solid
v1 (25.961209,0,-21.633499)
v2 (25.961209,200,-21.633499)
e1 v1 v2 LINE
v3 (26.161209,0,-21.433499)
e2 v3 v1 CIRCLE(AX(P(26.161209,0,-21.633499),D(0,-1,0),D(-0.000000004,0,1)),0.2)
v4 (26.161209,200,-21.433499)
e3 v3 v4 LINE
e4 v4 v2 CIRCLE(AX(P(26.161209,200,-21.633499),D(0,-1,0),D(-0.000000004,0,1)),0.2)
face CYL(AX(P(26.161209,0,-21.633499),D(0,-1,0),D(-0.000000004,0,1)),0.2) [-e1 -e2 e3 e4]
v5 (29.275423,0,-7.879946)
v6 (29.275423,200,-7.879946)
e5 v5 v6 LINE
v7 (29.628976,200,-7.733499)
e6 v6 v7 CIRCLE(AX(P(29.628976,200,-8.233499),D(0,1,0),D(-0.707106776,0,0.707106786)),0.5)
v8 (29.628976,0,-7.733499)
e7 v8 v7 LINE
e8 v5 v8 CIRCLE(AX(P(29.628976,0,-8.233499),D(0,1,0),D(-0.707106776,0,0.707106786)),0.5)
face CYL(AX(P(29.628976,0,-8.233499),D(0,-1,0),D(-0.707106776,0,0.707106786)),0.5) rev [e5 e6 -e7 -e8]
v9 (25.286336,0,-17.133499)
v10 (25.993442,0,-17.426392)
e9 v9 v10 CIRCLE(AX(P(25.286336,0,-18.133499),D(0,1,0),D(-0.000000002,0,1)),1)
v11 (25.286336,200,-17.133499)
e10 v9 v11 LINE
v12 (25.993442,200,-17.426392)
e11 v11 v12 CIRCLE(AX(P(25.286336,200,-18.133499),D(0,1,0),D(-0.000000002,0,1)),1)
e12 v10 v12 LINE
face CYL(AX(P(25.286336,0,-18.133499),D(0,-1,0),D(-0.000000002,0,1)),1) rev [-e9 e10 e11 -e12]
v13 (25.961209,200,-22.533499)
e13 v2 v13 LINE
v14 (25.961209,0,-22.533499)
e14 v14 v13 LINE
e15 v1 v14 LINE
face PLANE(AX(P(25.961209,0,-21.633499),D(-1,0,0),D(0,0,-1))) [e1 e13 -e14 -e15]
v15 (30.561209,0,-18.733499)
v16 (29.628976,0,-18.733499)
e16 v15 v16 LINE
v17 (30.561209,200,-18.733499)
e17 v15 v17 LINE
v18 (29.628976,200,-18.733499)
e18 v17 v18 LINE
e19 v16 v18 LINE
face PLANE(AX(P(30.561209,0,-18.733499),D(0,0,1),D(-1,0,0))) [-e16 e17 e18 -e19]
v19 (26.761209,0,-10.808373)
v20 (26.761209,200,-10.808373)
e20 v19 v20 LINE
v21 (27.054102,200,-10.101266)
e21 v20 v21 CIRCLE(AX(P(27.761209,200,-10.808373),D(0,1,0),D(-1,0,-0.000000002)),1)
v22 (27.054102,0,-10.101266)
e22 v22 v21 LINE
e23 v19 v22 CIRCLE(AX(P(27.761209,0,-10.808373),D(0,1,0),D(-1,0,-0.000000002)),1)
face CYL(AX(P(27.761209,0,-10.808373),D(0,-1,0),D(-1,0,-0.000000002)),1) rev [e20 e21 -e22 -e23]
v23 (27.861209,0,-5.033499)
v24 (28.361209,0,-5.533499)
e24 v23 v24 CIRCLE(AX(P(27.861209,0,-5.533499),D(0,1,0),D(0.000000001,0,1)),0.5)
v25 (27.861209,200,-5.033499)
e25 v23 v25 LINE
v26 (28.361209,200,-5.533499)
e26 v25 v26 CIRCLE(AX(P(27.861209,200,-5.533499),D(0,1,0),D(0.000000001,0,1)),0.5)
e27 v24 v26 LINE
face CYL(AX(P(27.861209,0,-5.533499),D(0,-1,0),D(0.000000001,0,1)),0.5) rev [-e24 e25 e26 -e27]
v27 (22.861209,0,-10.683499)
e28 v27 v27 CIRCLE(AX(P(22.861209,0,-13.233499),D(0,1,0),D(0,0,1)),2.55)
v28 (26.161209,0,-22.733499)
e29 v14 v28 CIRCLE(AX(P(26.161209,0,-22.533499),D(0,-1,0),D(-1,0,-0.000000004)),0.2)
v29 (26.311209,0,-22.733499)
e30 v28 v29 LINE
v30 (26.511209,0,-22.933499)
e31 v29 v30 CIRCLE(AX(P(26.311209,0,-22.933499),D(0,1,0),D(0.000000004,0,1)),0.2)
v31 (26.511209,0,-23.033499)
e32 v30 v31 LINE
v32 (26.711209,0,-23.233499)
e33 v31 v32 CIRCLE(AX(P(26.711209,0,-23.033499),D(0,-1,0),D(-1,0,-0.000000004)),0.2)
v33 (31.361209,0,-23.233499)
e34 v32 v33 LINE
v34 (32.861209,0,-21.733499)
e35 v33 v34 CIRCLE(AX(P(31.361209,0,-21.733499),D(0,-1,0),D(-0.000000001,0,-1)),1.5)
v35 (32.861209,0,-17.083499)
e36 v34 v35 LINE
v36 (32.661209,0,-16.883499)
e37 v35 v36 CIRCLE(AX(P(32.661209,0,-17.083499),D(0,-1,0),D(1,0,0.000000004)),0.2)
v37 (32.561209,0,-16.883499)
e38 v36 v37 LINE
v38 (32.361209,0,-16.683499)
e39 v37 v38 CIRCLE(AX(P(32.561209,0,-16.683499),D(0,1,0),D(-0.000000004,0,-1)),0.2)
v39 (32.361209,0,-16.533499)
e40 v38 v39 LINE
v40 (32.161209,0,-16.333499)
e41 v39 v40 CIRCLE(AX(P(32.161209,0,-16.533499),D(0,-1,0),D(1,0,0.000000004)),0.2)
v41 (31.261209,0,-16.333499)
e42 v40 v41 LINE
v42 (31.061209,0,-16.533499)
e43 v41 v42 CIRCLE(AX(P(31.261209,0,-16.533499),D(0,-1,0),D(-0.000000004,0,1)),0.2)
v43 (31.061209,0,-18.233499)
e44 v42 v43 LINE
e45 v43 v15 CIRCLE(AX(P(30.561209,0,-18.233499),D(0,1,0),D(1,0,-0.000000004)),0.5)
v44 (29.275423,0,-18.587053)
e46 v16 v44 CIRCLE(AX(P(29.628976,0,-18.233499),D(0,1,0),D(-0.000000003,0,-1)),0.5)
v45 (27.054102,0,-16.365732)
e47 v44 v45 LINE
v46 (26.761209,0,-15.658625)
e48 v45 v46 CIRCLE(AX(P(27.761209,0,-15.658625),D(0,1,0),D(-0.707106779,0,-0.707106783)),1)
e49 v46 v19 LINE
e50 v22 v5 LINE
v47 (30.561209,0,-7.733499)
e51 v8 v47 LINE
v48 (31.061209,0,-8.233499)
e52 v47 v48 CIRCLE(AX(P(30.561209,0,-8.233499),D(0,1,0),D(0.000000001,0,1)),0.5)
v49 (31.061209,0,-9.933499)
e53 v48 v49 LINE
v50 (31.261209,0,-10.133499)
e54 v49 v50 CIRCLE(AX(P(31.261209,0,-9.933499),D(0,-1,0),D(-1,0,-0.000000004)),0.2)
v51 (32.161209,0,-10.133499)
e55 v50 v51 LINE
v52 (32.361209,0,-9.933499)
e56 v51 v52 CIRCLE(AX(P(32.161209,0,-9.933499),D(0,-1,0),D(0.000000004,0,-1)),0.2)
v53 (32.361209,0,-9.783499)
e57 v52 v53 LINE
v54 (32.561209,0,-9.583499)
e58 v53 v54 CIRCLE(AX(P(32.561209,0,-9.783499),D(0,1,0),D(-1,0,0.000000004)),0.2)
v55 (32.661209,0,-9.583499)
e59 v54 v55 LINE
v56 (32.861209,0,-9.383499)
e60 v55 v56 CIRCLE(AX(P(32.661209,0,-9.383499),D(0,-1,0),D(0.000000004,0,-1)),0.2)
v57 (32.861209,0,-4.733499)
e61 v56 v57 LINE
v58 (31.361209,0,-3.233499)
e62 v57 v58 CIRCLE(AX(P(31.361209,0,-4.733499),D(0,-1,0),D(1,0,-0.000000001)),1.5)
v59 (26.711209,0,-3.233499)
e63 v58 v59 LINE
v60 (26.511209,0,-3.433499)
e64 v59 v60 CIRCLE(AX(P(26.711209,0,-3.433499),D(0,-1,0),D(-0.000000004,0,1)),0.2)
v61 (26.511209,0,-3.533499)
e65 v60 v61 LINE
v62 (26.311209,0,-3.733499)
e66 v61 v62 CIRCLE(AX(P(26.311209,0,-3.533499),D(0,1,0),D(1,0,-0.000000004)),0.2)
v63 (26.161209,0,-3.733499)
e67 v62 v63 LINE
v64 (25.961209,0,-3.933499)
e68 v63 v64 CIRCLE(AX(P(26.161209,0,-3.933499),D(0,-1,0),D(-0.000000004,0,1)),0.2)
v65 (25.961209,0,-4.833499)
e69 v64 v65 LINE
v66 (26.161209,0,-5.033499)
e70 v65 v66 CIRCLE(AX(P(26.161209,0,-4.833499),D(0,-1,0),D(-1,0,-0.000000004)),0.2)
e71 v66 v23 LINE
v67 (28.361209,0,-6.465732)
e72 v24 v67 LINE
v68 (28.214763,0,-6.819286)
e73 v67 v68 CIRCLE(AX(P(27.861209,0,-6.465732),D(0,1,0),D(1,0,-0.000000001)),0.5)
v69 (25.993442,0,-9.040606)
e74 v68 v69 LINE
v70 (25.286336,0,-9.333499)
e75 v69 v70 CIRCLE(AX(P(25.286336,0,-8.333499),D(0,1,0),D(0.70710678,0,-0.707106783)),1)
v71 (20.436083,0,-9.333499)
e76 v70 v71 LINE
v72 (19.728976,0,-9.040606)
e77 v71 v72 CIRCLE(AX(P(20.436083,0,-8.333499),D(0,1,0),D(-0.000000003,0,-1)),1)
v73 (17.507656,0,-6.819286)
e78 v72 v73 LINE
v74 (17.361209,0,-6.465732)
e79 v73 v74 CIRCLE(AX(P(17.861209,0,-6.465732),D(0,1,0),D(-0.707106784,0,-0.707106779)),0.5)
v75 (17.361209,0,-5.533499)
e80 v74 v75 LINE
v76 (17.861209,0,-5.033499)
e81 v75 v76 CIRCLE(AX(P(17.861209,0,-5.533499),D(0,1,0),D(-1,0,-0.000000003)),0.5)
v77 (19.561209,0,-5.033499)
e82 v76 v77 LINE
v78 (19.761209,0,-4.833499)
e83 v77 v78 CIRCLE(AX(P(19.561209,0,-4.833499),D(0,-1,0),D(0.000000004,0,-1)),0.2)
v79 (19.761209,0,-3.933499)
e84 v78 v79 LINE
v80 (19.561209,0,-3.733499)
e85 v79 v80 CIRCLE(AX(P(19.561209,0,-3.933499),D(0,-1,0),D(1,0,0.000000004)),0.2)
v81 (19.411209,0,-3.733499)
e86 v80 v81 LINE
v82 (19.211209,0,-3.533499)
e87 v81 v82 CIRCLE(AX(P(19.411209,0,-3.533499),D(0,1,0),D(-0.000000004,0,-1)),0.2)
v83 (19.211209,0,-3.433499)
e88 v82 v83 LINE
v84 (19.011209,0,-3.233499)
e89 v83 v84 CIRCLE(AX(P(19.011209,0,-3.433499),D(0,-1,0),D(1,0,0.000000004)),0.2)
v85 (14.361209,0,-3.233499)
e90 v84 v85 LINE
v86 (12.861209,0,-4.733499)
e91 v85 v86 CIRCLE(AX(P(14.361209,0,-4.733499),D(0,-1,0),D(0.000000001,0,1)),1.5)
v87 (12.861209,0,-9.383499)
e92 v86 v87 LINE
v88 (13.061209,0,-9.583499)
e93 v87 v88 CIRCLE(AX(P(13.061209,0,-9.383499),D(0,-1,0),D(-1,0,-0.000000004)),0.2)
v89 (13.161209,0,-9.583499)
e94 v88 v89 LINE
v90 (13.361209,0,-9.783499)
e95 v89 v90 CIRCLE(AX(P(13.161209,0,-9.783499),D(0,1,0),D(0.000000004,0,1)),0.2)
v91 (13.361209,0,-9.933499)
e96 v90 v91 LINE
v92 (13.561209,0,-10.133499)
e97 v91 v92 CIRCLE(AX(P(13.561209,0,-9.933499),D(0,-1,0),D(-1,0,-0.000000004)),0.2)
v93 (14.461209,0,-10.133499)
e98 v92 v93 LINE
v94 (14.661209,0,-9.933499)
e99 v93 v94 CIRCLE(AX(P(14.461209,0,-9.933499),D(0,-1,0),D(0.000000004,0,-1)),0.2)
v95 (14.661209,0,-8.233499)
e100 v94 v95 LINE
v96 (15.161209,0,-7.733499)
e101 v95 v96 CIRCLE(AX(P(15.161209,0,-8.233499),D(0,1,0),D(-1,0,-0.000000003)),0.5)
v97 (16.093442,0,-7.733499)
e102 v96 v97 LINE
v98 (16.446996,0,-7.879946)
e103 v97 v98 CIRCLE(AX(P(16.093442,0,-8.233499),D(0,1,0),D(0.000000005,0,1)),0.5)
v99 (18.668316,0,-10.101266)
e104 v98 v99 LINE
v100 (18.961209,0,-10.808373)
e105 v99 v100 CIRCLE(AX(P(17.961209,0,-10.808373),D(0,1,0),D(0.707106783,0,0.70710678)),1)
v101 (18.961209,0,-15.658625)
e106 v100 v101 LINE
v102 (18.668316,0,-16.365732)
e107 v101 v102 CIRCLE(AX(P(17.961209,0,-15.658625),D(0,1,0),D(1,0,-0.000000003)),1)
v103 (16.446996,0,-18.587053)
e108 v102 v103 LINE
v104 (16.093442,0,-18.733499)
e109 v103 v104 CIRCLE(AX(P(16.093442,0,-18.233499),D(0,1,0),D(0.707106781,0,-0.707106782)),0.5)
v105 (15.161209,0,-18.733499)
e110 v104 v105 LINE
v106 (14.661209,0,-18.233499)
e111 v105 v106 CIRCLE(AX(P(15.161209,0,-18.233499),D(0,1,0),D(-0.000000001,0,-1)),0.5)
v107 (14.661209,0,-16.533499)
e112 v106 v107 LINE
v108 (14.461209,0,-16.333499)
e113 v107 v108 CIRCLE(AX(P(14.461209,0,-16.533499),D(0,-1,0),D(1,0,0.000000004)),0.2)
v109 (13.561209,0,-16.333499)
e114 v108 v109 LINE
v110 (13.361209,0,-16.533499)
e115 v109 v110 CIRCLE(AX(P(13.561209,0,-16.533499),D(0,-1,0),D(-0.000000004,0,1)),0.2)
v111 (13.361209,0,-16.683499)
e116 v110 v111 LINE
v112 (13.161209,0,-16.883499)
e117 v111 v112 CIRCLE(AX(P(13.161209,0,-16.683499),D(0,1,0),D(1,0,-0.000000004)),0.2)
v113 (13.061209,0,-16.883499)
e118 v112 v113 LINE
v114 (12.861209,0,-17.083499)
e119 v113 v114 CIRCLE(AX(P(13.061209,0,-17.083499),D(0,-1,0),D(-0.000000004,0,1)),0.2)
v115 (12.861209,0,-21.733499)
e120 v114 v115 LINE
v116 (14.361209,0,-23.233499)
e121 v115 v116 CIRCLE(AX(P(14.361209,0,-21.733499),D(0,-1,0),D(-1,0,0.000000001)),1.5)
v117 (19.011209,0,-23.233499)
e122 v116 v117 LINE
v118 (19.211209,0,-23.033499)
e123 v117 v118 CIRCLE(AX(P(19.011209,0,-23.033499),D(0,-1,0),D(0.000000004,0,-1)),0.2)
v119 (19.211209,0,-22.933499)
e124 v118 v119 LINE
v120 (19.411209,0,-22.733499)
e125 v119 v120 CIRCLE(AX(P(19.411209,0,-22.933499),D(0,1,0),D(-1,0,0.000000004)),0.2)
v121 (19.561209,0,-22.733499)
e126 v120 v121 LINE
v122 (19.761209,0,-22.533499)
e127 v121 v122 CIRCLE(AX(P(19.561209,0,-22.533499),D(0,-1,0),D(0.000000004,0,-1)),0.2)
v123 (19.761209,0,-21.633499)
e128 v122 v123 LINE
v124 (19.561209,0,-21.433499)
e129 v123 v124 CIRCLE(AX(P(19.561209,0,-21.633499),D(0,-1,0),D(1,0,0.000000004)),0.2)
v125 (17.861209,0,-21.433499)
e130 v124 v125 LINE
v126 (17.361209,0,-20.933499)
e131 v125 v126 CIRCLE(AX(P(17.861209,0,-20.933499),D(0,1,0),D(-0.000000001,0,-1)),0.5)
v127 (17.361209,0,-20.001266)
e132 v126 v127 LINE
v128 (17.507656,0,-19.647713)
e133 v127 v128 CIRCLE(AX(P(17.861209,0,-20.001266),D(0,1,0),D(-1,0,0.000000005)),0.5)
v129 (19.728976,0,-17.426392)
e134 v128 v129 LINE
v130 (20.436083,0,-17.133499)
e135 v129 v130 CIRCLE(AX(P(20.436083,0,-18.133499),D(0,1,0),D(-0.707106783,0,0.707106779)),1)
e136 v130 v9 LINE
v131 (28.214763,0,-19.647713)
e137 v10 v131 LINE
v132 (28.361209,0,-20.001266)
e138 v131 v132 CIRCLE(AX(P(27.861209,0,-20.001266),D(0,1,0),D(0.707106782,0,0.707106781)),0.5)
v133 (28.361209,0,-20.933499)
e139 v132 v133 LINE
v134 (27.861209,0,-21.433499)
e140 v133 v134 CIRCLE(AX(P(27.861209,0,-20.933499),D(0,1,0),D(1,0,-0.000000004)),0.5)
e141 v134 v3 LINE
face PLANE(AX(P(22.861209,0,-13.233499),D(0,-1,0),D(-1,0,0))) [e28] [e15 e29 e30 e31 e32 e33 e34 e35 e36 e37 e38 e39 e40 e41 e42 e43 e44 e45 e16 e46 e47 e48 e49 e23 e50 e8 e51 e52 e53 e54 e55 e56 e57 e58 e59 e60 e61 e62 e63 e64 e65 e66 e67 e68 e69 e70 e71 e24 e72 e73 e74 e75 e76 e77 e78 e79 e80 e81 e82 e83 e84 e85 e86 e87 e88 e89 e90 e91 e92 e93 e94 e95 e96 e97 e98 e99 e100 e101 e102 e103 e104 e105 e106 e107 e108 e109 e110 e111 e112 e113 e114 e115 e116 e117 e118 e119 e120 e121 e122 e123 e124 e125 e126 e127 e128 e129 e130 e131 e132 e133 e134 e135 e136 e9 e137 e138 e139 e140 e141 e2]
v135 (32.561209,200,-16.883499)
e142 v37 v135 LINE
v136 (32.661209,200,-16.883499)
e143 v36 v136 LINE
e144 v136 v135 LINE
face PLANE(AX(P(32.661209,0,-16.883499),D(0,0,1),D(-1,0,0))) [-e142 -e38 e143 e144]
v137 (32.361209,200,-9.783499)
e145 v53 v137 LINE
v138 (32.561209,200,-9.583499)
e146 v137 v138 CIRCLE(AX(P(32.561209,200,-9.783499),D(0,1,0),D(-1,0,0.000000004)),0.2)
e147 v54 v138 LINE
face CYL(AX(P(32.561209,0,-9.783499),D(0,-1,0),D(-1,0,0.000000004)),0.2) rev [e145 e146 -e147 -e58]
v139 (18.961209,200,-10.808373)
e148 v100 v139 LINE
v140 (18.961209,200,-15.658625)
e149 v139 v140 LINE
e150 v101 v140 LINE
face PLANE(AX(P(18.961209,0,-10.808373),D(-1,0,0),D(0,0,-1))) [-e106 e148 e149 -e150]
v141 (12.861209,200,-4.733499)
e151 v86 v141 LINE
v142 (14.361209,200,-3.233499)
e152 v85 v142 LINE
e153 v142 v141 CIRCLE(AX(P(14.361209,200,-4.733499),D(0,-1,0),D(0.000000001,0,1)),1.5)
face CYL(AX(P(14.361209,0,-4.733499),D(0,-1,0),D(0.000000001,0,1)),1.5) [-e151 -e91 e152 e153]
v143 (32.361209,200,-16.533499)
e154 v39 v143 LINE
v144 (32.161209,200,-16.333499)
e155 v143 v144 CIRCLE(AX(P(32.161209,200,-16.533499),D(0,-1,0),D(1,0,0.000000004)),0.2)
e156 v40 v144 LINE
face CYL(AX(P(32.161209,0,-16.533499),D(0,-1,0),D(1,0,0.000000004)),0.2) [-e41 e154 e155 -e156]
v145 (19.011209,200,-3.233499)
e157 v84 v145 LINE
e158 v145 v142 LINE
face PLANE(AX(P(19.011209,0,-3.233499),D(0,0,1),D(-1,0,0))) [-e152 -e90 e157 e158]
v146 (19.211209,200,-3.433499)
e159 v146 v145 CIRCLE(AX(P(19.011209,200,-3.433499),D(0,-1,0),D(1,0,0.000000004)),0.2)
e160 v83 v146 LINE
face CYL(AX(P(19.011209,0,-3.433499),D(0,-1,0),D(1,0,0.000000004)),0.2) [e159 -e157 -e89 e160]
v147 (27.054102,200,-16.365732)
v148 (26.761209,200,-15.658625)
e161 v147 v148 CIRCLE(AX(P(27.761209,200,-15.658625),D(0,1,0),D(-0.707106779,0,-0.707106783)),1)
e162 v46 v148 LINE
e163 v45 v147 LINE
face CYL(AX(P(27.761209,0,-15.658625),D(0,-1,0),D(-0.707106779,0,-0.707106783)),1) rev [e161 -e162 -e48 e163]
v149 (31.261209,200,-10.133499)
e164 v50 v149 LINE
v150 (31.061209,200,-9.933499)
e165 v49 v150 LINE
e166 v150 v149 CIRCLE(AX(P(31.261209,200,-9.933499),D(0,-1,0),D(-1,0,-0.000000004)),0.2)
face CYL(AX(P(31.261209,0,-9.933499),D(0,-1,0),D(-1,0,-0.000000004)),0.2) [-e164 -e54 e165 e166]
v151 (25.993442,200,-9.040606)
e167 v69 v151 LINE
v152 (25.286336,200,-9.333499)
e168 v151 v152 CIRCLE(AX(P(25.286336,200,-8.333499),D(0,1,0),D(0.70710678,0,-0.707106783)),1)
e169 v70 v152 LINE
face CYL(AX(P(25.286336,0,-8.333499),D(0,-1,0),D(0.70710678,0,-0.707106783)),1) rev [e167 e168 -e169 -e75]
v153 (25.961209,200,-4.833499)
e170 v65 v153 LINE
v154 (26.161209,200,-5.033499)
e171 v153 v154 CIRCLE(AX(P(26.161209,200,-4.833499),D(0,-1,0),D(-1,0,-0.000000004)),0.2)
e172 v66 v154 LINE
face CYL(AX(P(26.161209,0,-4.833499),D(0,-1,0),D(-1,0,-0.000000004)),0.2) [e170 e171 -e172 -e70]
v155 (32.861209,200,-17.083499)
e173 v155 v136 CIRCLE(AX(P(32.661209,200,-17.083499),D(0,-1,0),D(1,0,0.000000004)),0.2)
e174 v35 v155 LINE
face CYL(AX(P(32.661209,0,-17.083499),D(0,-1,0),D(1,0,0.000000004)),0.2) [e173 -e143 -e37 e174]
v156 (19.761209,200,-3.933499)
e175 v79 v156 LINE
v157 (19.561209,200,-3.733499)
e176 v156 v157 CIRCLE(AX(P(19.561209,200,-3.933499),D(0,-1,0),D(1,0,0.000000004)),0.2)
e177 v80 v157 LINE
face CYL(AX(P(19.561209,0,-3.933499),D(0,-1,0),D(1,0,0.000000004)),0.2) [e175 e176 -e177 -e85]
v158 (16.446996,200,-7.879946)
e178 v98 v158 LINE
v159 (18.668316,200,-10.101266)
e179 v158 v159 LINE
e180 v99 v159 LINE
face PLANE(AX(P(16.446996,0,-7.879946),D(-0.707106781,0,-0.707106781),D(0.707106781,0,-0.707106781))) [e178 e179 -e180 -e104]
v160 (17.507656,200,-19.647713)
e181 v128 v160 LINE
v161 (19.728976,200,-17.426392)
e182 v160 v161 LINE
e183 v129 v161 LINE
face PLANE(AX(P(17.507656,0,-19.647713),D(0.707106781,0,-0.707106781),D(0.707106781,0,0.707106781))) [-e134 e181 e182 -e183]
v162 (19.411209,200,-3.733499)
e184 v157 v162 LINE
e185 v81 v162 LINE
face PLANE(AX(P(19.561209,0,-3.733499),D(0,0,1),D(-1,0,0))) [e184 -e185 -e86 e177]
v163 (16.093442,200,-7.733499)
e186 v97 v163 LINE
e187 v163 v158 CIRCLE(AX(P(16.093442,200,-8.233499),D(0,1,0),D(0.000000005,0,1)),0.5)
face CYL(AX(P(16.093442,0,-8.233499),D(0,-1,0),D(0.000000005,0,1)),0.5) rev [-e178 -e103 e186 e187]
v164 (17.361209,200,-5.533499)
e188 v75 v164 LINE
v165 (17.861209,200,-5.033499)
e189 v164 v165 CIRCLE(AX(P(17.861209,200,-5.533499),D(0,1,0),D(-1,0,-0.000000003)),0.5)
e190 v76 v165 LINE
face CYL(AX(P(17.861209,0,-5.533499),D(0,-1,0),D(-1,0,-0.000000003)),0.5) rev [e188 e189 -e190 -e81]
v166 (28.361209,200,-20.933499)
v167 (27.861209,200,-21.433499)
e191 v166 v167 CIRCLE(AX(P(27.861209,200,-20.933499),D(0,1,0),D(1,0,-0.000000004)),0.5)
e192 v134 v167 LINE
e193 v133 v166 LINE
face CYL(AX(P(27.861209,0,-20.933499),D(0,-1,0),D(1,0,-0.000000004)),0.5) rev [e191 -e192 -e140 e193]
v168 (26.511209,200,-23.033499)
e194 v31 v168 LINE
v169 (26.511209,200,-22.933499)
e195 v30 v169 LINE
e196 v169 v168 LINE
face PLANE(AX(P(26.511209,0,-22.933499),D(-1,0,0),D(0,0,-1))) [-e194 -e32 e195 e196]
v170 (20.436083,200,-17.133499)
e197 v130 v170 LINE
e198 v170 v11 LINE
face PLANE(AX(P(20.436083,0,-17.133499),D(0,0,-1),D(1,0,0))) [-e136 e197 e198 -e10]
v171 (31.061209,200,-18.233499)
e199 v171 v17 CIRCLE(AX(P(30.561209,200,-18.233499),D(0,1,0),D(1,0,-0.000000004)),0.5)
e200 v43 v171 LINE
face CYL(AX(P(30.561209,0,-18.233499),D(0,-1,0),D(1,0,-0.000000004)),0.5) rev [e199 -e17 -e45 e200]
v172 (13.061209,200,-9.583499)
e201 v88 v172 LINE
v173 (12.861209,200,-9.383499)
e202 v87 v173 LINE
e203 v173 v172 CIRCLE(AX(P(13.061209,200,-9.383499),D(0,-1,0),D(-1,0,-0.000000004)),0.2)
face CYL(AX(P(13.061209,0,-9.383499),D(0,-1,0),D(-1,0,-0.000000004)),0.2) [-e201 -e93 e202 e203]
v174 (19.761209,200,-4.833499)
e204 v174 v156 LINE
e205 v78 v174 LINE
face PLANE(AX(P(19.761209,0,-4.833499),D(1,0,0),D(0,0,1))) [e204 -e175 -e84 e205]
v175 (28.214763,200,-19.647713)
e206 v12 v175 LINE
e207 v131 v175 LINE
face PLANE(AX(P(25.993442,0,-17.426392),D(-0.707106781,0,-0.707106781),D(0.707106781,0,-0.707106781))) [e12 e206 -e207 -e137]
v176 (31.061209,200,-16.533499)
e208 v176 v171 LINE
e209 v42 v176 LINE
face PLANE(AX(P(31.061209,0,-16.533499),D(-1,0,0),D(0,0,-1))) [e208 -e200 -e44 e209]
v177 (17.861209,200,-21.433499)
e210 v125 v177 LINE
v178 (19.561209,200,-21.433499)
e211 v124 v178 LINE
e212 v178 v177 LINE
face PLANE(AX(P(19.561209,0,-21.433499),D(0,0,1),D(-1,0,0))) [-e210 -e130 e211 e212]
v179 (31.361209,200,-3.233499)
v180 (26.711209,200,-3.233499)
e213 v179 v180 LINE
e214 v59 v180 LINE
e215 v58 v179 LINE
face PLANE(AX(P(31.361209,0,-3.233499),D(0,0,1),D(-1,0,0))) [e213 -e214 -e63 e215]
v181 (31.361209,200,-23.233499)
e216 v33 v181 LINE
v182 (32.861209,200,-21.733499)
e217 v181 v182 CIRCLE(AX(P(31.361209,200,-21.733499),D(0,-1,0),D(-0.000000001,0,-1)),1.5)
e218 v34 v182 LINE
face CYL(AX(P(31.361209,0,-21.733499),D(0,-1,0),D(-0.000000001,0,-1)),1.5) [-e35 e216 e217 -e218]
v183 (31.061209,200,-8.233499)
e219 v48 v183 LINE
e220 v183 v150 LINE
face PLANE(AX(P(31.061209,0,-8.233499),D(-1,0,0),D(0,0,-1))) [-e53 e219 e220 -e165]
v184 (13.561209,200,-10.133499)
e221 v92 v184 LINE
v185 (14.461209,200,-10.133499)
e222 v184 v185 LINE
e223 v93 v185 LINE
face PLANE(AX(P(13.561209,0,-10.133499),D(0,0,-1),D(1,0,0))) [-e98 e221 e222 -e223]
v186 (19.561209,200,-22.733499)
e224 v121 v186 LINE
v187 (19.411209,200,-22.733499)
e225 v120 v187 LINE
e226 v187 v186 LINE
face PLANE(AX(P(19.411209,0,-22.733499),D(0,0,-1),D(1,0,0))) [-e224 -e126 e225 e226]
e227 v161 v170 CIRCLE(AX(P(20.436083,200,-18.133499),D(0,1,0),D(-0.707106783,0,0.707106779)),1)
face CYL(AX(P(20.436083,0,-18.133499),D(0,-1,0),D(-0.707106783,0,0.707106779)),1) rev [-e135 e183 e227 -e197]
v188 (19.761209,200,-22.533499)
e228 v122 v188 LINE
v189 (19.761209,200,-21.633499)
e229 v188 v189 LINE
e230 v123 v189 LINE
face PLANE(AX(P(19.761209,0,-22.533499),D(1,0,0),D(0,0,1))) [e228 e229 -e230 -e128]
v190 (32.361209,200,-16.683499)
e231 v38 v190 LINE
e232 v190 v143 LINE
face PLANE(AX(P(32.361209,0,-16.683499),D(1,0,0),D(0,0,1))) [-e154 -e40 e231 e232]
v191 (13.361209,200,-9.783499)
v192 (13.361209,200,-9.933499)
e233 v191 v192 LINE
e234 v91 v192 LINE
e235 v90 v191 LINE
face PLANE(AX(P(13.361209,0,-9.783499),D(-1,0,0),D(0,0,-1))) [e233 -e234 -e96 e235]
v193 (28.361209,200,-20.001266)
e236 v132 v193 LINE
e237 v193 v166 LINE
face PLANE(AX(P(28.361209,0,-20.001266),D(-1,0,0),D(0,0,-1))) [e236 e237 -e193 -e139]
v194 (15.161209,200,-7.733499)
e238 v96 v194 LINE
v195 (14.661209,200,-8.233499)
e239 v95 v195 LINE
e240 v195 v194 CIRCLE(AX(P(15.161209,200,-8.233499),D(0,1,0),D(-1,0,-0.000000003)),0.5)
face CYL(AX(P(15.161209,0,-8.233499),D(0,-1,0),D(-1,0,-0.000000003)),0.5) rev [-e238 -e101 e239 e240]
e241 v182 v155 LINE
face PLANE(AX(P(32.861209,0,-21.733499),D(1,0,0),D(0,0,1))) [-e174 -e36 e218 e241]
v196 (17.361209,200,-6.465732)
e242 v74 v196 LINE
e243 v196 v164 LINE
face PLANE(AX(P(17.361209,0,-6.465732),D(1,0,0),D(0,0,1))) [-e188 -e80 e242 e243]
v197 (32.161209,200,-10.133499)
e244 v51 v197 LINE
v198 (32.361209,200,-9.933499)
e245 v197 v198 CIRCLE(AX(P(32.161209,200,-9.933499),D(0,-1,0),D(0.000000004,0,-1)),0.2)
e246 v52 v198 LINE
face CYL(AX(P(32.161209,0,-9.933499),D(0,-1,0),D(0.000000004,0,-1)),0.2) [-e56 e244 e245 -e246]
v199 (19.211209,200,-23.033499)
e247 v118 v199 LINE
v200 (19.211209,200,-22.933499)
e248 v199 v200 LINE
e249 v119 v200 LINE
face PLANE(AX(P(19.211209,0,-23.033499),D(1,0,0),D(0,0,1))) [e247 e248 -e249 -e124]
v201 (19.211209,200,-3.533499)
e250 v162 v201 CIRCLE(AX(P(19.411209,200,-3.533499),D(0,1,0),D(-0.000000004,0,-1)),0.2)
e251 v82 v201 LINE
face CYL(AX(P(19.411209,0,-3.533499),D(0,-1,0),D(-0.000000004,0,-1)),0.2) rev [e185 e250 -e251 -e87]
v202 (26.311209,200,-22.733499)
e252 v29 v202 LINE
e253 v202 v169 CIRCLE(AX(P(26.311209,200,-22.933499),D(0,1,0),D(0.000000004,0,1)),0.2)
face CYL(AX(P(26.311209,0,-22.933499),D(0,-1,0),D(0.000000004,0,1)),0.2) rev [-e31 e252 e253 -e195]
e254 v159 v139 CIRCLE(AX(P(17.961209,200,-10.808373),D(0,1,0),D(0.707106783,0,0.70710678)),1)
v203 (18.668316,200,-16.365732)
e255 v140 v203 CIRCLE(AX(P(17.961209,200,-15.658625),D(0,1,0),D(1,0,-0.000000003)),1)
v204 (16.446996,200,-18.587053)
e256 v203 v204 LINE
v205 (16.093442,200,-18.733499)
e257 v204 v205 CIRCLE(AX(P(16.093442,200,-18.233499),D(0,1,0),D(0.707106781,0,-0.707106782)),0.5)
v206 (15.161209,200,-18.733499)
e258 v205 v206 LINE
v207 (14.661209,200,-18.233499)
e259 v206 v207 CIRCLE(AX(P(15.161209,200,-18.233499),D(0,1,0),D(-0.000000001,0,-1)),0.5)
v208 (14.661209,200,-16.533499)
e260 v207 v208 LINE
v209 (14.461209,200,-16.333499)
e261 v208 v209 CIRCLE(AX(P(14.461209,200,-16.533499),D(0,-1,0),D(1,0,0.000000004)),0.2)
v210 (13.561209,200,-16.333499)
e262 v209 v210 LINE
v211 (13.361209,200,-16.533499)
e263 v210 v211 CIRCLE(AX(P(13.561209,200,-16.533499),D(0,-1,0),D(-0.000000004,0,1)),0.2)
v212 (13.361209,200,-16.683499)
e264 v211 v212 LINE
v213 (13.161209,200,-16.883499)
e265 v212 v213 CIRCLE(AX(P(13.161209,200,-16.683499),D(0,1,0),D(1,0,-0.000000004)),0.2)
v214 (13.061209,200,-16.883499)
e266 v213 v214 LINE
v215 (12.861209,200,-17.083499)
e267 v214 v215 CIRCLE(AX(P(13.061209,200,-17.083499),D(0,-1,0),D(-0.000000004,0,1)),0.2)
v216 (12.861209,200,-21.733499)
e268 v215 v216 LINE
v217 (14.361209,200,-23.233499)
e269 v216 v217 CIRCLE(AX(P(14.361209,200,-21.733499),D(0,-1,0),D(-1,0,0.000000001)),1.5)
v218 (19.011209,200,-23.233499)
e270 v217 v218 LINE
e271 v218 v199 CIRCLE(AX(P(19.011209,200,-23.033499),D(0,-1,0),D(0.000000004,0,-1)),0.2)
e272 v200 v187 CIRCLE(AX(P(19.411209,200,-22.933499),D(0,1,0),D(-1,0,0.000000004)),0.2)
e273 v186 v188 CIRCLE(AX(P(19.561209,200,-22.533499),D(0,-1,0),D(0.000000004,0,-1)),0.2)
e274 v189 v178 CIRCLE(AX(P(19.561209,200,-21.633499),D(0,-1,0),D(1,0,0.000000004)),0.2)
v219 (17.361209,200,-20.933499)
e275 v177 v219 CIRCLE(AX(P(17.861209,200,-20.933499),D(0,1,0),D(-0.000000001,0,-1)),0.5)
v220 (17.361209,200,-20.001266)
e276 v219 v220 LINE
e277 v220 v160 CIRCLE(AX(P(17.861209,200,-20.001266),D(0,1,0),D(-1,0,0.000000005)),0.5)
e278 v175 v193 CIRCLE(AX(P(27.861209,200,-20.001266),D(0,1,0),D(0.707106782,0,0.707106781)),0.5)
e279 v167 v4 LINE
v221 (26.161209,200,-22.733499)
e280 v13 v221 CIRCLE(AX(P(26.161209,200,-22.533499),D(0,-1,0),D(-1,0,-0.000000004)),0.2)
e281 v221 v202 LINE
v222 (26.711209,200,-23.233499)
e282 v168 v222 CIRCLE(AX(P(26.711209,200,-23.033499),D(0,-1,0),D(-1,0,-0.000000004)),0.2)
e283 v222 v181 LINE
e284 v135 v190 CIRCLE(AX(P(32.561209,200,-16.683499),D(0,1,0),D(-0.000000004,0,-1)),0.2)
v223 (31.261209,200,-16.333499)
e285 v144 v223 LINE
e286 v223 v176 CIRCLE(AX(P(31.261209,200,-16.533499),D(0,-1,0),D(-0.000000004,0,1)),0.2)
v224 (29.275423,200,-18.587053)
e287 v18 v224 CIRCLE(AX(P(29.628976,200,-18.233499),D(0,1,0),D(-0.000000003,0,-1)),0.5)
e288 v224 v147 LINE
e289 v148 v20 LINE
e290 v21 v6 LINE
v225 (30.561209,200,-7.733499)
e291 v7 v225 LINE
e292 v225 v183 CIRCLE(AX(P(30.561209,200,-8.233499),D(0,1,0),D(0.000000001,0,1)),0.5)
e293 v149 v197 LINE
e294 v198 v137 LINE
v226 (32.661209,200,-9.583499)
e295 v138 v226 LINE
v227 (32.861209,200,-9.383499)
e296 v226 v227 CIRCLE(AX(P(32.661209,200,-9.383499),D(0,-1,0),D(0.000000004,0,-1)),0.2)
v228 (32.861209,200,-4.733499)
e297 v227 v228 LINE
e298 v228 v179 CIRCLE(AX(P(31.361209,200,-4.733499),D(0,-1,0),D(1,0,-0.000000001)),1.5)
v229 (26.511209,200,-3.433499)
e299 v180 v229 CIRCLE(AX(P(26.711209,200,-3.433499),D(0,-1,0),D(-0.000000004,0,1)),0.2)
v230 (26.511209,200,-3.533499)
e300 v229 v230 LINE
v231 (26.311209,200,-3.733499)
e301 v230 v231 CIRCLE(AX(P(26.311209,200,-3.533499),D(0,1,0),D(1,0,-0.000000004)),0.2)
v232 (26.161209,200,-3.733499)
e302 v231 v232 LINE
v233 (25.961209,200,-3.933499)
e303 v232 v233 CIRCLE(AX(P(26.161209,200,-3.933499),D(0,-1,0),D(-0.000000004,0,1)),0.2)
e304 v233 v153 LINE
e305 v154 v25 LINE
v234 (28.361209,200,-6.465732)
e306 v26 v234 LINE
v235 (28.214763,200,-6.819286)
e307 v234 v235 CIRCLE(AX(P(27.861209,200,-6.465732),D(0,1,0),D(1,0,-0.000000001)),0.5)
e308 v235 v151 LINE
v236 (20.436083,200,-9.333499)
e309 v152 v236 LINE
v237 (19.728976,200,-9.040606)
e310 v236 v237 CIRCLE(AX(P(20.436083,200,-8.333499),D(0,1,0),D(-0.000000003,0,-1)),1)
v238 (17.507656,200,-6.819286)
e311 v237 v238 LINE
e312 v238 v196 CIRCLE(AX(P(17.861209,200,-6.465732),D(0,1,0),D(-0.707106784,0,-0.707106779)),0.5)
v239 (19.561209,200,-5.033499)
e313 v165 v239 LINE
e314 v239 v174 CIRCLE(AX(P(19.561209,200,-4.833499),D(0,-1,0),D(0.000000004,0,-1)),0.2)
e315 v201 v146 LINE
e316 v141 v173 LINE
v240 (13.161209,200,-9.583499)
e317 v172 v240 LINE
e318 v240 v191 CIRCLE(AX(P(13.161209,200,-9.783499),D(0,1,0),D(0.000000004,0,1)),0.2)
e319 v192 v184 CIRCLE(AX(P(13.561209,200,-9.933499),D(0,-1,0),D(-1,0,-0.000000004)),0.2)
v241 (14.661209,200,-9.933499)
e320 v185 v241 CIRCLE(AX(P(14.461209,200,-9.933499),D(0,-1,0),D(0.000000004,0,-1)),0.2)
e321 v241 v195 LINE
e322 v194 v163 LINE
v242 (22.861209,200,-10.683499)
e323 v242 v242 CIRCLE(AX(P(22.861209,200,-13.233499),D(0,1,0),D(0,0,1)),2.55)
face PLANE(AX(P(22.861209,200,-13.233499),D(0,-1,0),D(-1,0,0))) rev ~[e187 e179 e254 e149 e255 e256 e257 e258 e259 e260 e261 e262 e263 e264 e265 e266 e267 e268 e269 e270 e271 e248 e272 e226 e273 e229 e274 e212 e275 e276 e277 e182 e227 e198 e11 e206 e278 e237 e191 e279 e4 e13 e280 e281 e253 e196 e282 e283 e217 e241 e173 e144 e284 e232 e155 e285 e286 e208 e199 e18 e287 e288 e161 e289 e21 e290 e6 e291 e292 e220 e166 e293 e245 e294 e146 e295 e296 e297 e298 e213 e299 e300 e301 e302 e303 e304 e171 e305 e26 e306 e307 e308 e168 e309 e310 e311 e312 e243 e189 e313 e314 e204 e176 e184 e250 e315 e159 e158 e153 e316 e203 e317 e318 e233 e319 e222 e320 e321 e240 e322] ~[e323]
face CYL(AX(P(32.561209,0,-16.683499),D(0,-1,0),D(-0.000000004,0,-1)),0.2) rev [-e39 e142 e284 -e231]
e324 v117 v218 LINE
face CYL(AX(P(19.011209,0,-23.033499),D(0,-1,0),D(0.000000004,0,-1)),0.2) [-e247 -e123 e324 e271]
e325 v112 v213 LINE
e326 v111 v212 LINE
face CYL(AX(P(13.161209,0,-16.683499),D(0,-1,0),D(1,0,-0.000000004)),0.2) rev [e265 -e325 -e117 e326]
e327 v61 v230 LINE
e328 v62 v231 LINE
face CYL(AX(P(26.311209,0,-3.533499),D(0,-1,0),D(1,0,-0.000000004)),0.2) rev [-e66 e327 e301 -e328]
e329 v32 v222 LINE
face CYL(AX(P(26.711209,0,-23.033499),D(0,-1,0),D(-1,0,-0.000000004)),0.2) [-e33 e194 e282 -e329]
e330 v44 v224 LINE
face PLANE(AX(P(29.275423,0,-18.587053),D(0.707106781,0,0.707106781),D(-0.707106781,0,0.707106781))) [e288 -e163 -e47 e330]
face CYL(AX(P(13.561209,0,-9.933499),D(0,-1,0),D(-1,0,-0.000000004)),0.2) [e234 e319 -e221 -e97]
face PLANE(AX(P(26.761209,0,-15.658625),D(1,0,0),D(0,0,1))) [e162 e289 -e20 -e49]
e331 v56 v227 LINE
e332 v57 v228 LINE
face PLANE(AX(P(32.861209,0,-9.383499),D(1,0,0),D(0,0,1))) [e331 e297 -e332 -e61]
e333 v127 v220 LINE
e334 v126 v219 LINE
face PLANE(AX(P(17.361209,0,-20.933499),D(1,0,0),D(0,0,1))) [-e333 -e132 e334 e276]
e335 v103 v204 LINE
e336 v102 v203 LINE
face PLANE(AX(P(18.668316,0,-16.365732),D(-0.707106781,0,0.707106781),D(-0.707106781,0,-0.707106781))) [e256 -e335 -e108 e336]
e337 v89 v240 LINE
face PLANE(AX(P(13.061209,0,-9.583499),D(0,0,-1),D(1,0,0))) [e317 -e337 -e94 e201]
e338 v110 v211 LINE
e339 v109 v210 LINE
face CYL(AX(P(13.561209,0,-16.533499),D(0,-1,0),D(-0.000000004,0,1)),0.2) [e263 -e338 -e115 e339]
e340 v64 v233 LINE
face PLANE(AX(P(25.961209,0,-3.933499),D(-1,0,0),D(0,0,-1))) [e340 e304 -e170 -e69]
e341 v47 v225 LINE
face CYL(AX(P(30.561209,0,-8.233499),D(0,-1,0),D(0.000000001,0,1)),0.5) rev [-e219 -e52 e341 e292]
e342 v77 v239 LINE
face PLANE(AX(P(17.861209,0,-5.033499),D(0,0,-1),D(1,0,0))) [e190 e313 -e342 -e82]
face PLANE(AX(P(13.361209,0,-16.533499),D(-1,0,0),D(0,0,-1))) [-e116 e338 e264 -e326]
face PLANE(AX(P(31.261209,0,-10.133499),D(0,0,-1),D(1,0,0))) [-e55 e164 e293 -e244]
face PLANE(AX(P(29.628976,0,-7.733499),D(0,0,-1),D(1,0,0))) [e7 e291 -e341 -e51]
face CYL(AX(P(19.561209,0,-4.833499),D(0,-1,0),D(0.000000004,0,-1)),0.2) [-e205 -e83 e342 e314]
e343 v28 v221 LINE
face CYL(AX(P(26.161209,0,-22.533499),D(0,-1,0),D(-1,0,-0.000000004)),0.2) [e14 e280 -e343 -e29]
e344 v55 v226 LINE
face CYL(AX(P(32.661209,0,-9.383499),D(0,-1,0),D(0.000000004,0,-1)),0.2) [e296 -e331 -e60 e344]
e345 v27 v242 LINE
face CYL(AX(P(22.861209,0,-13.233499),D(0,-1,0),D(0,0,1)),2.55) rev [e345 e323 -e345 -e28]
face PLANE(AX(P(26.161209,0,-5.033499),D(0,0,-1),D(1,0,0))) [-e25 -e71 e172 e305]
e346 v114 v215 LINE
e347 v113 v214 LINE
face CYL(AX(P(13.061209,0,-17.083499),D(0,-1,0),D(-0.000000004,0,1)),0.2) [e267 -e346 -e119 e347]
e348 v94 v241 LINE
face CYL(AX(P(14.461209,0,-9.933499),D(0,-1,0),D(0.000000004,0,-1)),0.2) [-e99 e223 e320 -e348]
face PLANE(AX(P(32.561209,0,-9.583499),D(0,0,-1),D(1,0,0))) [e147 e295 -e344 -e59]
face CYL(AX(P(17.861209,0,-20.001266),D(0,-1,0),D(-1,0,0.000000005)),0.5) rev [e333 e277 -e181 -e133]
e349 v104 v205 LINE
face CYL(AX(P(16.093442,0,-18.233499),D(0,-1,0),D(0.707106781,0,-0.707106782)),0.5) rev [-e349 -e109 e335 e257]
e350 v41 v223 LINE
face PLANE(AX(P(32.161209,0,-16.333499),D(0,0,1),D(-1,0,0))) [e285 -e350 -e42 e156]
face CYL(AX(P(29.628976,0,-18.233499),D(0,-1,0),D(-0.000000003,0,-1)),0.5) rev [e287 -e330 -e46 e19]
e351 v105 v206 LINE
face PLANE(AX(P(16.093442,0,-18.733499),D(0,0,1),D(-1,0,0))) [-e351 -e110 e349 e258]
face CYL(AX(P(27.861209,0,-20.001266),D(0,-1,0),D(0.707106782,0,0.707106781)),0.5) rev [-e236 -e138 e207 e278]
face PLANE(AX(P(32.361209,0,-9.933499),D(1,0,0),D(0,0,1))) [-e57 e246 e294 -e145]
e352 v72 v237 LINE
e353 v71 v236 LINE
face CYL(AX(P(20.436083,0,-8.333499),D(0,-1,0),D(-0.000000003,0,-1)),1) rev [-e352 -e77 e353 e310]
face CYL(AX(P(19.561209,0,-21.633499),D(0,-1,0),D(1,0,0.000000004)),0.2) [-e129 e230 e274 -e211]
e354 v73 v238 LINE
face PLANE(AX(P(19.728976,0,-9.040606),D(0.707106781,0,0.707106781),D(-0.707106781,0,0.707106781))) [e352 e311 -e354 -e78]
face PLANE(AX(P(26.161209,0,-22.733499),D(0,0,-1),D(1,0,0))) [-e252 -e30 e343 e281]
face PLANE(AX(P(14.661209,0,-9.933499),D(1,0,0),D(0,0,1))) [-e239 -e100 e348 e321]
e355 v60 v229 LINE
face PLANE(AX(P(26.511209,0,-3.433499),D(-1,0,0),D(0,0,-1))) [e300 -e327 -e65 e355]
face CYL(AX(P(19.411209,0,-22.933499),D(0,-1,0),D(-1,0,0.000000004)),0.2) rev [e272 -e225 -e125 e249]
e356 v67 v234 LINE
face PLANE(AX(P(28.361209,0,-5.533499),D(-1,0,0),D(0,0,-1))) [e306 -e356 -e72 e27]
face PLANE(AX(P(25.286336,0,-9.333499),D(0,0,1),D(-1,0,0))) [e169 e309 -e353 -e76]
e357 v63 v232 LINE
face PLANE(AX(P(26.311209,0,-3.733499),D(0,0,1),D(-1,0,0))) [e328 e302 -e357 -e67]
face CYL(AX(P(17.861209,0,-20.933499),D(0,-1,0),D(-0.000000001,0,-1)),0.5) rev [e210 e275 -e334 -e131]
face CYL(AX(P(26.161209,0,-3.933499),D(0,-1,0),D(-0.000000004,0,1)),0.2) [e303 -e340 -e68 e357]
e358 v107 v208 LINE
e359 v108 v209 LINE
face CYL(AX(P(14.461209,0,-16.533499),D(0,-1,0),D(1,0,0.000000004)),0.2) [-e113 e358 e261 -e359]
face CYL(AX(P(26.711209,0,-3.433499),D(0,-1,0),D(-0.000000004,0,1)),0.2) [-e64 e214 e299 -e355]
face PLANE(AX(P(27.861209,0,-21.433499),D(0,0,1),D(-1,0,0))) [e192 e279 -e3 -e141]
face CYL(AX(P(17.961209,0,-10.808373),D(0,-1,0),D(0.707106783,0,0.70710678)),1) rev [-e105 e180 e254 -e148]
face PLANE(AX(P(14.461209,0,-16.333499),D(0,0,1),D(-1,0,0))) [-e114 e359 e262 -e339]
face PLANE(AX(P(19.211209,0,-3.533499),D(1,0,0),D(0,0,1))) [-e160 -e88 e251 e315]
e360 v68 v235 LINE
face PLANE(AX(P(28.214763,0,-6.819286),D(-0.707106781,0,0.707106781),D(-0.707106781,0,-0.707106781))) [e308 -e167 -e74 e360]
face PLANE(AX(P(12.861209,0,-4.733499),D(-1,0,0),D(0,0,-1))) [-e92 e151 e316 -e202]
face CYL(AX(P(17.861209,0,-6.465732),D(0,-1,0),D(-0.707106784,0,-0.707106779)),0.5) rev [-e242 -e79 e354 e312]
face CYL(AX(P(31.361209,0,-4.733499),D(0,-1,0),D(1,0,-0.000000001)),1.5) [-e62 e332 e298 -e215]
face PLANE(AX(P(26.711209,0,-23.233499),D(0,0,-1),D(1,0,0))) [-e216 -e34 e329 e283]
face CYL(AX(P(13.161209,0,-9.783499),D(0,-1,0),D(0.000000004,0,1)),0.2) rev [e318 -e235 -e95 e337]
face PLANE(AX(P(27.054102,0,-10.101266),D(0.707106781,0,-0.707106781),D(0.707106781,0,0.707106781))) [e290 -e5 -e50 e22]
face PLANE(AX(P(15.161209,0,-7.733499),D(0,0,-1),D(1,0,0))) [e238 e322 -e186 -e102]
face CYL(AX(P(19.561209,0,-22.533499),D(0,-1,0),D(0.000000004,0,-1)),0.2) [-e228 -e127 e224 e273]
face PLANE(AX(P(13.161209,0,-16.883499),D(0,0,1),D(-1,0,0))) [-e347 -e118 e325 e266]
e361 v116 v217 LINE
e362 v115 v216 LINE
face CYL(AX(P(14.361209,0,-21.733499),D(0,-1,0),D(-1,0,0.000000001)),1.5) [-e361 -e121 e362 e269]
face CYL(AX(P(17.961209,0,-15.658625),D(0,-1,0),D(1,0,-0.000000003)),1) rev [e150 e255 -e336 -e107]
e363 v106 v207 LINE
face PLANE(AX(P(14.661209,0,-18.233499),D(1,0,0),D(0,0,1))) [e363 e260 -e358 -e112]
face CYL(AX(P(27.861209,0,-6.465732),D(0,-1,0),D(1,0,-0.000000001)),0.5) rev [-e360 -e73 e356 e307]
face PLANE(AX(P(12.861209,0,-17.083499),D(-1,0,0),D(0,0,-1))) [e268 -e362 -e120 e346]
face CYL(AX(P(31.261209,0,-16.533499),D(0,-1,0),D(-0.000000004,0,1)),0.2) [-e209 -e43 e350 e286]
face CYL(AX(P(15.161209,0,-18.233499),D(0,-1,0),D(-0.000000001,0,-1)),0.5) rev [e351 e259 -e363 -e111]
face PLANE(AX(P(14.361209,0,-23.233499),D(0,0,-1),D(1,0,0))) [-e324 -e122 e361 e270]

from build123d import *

# Parameters (mm, degrees)
SKETCH_1_R      = 2.55
EXTRUDE_1_DEPTH = 200


with BuildPart() as part:
    # 草图1 → 凸台-拉伸1 (new body)
    with BuildSketch(Plane(origin=(0, 0, 0), x_dir=(1, 0, 0), z_dir=(0, 1, 0))):
        with BuildLine():
            Line((19.761209246, 22.533499136), (19.761209246, 21.633499136))
            ThreePointArc((19.761209246, 21.633499136), (19.702630602, 21.49207778), (19.561209246, 21.433499136))
            Line((19.561209246, 21.433499136), (17.861209246, 21.433499136))
            ThreePointArc((17.861209246, 21.433499136), (17.507655855, 21.287052526), (17.361209246, 20.933499136))
            Line((17.361209246, 20.933499136), (17.361209246, 20.001266089))
            ThreePointArc((17.361209246, 20.001266089), (17.39926948, 19.809924373), (17.507655855, 19.647712698))
            Line((17.507655855, 19.647712698), (19.728976199, 17.426392355))
            ThreePointArc((19.728976199, 17.426392355), (20.053399548, 17.209619603), (20.43608298, 17.133499136))
            Line((20.43608298, 17.133499136), (25.286335512, 17.133499136))
            ThreePointArc((25.286335512, 17.133499136), (25.669018944, 17.209619603), (25.993442293, 17.426392355))
            Line((25.993442293, 17.426392355), (28.214762636, 19.647712698))
            ThreePointArc((28.214762636, 19.647712698), (28.323149012, 19.809924373), (28.361209246, 20.001266089))
            Line((28.361209246, 20.001266089), (28.361209246, 20.933499136))
            ThreePointArc((28.361209246, 20.933499136), (28.214762636, 21.287052526), (27.861209246, 21.433499136))
            Line((27.861209246, 21.433499136), (26.161209246, 21.433499136))
            ThreePointArc((26.161209246, 21.433499136), (26.01978789, 21.49207778), (25.961209246, 21.633499136))
            Line((25.961209246, 21.633499136), (25.961209246, 22.533499136))
            ThreePointArc((25.961209246, 22.533499136), (26.01978789, 22.674920492), (26.161209246, 22.733499136))
            Line((26.161209246, 22.733499136), (26.311209246, 22.733499136))
            ThreePointArc((26.311209246, 22.733499136), (26.452630602, 22.79207778), (26.511209246, 22.933499136))
            Line((26.511209246, 22.933499136), (26.511209246, 23.033499136))
            ThreePointArc((26.511209246, 23.033499136), (26.56978789, 23.174920492), (26.711209246, 23.233499136))
            Line((26.711209246, 23.233499136), (31.361209246, 23.233499136))
            ThreePointArc((31.361209246, 23.233499136), (32.421869418, 22.794159308), (32.861209246, 21.733499136))
            Line((32.861209246, 21.733499136), (32.861209246, 17.083499136))
            ThreePointArc((32.861209246, 17.083499136), (32.802630602, 16.94207778), (32.661209246, 16.883499136))
            Line((32.661209246, 16.883499136), (32.561209246, 16.883499136))
            ThreePointArc((32.561209246, 16.883499136), (32.41978789, 16.824920492), (32.361209246, 16.683499136))
            Line((32.361209246, 16.683499136), (32.361209246, 16.533499136))
            ThreePointArc((32.361209246, 16.533499136), (32.302630602, 16.39207778), (32.161209246, 16.333499136))
            Line((32.161209246, 16.333499136), (31.261209246, 16.333499136))
            ThreePointArc((31.261209246, 16.333499136), (31.11978789, 16.39207778), (31.061209246, 16.533499136))
            Line((31.061209246, 16.533499136), (31.061209246, 18.233499136))
            ThreePointArc((31.061209246, 18.233499136), (30.914762636, 18.587052526), (30.561209246, 18.733499136))
            Line((30.561209246, 18.733499136), (29.628976199, 18.733499136))
            ThreePointArc((29.628976199, 18.733499136), (29.437634483, 18.695438902), (29.275422808, 18.587052526))
            Line((29.275422808, 18.587052526), (27.054102465, 16.365732183))
            ThreePointArc((27.054102465, 16.365732183), (26.837329713, 16.041308834), (26.761209246, 15.658625402))
            Line((26.761209246, 15.658625402), (26.761209246, 10.80837287))
            ThreePointArc((26.761209246, 10.80837287), (26.837329713, 10.425689438), (27.054102465, 10.101266089))
            Line((27.054102465, 10.101266089), (29.275422808, 7.879945745))
            ThreePointArc((29.275422808, 7.879945745), (29.437634483, 7.77155937), (29.628976199, 7.733499136))
            Line((29.628976199, 7.733499136), (30.561209246, 7.733499136))
            ThreePointArc((30.561209246, 7.733499136), (30.914762636, 7.879945745), (31.061209246, 8.233499136))
            Line((31.061209246, 8.233499136), (31.061209246, 9.933499136))
            ThreePointArc((31.061209246, 9.933499136), (31.11978789, 10.074920492), (31.261209246, 10.133499136))
            Line((31.261209246, 10.133499136), (32.161209246, 10.133499136))
            ThreePointArc((32.161209246, 10.133499136), (32.302630602, 10.074920492), (32.361209246, 9.933499136))
            Line((32.361209246, 9.933499136), (32.361209246, 9.783499136))
            ThreePointArc((32.361209246, 9.783499136), (32.41978789, 9.64207778), (32.561209246, 9.583499136))
            Line((32.561209246, 9.583499136), (32.661209246, 9.583499136))
            ThreePointArc((32.661209246, 9.583499136), (32.802630602, 9.524920492), (32.861209246, 9.383499136))
            Line((32.861209246, 9.383499136), (32.861209246, 4.733499136))
            ThreePointArc((32.861209246, 4.733499136), (32.421869418, 3.672838964), (31.361209246, 3.233499136))
            Line((31.361209246, 3.233499136), (26.711209246, 3.233499136))
            ThreePointArc((26.711209246, 3.233499136), (26.56978789, 3.29207778), (26.511209246, 3.433499136))
            Line((26.511209246, 3.433499136), (26.511209246, 3.533499136))
            ThreePointArc((26.511209246, 3.533499136), (26.452630602, 3.674920492), (26.311209246, 3.733499136))
            Line((26.311209246, 3.733499136), (26.161209246, 3.733499136))
            ThreePointArc((26.161209246, 3.733499136), (26.01978789, 3.79207778), (25.961209246, 3.933499136))
            Line((25.961209246, 3.933499136), (25.961209246, 4.833499136))
            ThreePointArc((25.961209246, 4.833499136), (26.01978789, 4.974920492), (26.161209246, 5.033499136))
            Line((26.161209246, 5.033499136), (27.861209246, 5.033499136))
            ThreePointArc((27.861209246, 5.033499136), (28.214762636, 5.179945745), (28.361209246, 5.533499136))
            Line((28.361209246, 5.533499136), (28.361209246, 6.465732183))
            ThreePointArc((28.361209246, 6.465732183), (28.323149012, 6.657073899), (28.214762636, 6.819285573))
            Line((28.214762636, 6.819285573), (25.993442293, 9.040605917))
            ThreePointArc((25.993442293, 9.040605917), (25.669018944, 9.257378668), (25.286335512, 9.333499136))
            Line((25.286335512, 9.333499136), (20.43608298, 9.333499136))
            ThreePointArc((20.43608298, 9.333499136), (20.053399548, 9.257378668), (19.728976199, 9.040605917))
            Line((19.728976199, 9.040605917), (17.507655855, 6.819285573))
            ThreePointArc((17.507655855, 6.819285573), (17.39926948, 6.657073899), (17.361209246, 6.465732183))
            Line((17.361209246, 6.465732183), (17.361209246, 5.533499136))
            ThreePointArc((17.361209246, 5.533499136), (17.507655855, 5.179945745), (17.861209246, 5.033499136))
            Line((17.861209246, 5.033499136), (19.561209246, 5.033499136))
            ThreePointArc((19.561209246, 5.033499136), (19.702630602, 4.974920492), (19.761209246, 4.833499136))
            Line((19.761209246, 4.833499136), (19.761209246, 3.933499136))
            ThreePointArc((19.761209246, 3.933499136), (19.702630602, 3.79207778), (19.561209246, 3.733499136))
            Line((19.561209246, 3.733499136), (19.411209246, 3.733499136))
            ThreePointArc((19.411209246, 3.733499136), (19.26978789, 3.674920492), (19.211209246, 3.533499136))
            Line((19.211209246, 3.533499136), (19.211209246, 3.433499136))
            ThreePointArc((19.211209246, 3.433499136), (19.152630602, 3.29207778), (19.011209246, 3.233499136))
            Line((19.011209246, 3.233499136), (14.361209246, 3.233499136))
            ThreePointArc((14.361209246, 3.233499136), (13.300549074, 3.672838964), (12.861209246, 4.733499136))
            Line((12.861209246, 4.733499136), (12.861209246, 9.383499136))
            ThreePointArc((12.861209246, 9.383499136), (12.91978789, 9.524920492), (13.061209246, 9.583499136))
            Line((13.061209246, 9.583499136), (13.161209246, 9.583499136))
            ThreePointArc((13.161209246, 9.583499136), (13.302630602, 9.64207778), (13.361209246, 9.783499136))
            Line((13.361209246, 9.783499136), (13.361209246, 9.933499136))
            ThreePointArc((13.361209246, 9.933499136), (13.41978789, 10.074920492), (13.561209246, 10.133499136))
            Line((13.561209246, 10.133499136), (14.461209246, 10.133499136))
            ThreePointArc((14.461209246, 10.133499136), (14.602630602, 10.074920492), (14.661209246, 9.933499136))
            Line((14.661209246, 9.933499136), (14.661209246, 8.233499136))
            ThreePointArc((14.661209246, 8.233499136), (14.807655855, 7.879945745), (15.161209246, 7.733499136))
            Line((15.161209246, 7.733499136), (16.093442293, 7.733499136))
            ThreePointArc((16.093442293, 7.733499136), (16.284784009, 7.77155937), (16.446995684, 7.879945745))
            Line((16.446995684, 7.879945745), (18.668316027, 10.101266089))
            ThreePointArc((18.668316027, 10.101266089), (18.885088778, 10.425689438), (18.961209246, 10.80837287))
            Line((18.961209246, 10.80837287), (18.961209246, 13.233499136))
            Line((18.961209246, 13.233499136), (18.961209246, 15.658625402))
            ThreePointArc((18.961209246, 15.658625402), (18.885088778, 16.041308834), (18.668316027, 16.365732183))
            Line((18.668316027, 16.365732183), (16.446995684, 18.587052526))
            ThreePointArc((16.446995684, 18.587052526), (16.284784009, 18.695438902), (16.093442293, 18.733499136))
            Line((16.093442293, 18.733499136), (15.161209246, 18.733499136))
            ThreePointArc((15.161209246, 18.733499136), (14.807655855, 18.587052526), (14.661209246, 18.233499136))
            Line((14.661209246, 18.233499136), (14.661209246, 16.533499136))
            ThreePointArc((14.661209246, 16.533499136), (14.602630602, 16.39207778), (14.461209246, 16.333499136))
            Line((14.461209246, 16.333499136), (13.561209246, 16.333499136))
            ThreePointArc((13.561209246, 16.333499136), (13.41978789, 16.39207778), (13.361209246, 16.533499136))
            Line((13.361209246, 16.533499136), (13.361209246, 16.683499136))
            ThreePointArc((13.361209246, 16.683499136), (13.302630602, 16.824920492), (13.161209246, 16.883499136))
            Line((13.161209246, 16.883499136), (13.061209246, 16.883499136))
            ThreePointArc((13.061209246, 16.883499136), (12.91978789, 16.94207778), (12.861209246, 17.083499136))
            Line((12.861209246, 17.083499136), (12.861209246, 21.733499136))
            ThreePointArc((12.861209246, 21.733499136), (13.300549074, 22.794159308), (14.361209246, 23.233499136))
            Line((14.361209246, 23.233499136), (19.011209246, 23.233499136))
            ThreePointArc((19.011209246, 23.233499136), (19.152630602, 23.174920492), (19.211209246, 23.033499136))
            Line((19.211209246, 23.033499136), (19.211209246, 22.933499136))
            ThreePointArc((19.211209246, 22.933499136), (19.26978789, 22.79207778), (19.411209246, 22.733499136))
            Line((19.411209246, 22.733499136), (19.561209246, 22.733499136))
            ThreePointArc((19.561209246, 22.733499136), (19.702630602, 22.674920492), (19.761209246, 22.533499136))
        make_face()
        with Locations(Location((22.861209246, 13.233499136, 0), (0, 0, 270))):
            Circle(SKETCH_1_R, mode=Mode.SUBTRACT)
    extrude(amount=EXTRUDE_1_DEPTH)


solid = part.part
